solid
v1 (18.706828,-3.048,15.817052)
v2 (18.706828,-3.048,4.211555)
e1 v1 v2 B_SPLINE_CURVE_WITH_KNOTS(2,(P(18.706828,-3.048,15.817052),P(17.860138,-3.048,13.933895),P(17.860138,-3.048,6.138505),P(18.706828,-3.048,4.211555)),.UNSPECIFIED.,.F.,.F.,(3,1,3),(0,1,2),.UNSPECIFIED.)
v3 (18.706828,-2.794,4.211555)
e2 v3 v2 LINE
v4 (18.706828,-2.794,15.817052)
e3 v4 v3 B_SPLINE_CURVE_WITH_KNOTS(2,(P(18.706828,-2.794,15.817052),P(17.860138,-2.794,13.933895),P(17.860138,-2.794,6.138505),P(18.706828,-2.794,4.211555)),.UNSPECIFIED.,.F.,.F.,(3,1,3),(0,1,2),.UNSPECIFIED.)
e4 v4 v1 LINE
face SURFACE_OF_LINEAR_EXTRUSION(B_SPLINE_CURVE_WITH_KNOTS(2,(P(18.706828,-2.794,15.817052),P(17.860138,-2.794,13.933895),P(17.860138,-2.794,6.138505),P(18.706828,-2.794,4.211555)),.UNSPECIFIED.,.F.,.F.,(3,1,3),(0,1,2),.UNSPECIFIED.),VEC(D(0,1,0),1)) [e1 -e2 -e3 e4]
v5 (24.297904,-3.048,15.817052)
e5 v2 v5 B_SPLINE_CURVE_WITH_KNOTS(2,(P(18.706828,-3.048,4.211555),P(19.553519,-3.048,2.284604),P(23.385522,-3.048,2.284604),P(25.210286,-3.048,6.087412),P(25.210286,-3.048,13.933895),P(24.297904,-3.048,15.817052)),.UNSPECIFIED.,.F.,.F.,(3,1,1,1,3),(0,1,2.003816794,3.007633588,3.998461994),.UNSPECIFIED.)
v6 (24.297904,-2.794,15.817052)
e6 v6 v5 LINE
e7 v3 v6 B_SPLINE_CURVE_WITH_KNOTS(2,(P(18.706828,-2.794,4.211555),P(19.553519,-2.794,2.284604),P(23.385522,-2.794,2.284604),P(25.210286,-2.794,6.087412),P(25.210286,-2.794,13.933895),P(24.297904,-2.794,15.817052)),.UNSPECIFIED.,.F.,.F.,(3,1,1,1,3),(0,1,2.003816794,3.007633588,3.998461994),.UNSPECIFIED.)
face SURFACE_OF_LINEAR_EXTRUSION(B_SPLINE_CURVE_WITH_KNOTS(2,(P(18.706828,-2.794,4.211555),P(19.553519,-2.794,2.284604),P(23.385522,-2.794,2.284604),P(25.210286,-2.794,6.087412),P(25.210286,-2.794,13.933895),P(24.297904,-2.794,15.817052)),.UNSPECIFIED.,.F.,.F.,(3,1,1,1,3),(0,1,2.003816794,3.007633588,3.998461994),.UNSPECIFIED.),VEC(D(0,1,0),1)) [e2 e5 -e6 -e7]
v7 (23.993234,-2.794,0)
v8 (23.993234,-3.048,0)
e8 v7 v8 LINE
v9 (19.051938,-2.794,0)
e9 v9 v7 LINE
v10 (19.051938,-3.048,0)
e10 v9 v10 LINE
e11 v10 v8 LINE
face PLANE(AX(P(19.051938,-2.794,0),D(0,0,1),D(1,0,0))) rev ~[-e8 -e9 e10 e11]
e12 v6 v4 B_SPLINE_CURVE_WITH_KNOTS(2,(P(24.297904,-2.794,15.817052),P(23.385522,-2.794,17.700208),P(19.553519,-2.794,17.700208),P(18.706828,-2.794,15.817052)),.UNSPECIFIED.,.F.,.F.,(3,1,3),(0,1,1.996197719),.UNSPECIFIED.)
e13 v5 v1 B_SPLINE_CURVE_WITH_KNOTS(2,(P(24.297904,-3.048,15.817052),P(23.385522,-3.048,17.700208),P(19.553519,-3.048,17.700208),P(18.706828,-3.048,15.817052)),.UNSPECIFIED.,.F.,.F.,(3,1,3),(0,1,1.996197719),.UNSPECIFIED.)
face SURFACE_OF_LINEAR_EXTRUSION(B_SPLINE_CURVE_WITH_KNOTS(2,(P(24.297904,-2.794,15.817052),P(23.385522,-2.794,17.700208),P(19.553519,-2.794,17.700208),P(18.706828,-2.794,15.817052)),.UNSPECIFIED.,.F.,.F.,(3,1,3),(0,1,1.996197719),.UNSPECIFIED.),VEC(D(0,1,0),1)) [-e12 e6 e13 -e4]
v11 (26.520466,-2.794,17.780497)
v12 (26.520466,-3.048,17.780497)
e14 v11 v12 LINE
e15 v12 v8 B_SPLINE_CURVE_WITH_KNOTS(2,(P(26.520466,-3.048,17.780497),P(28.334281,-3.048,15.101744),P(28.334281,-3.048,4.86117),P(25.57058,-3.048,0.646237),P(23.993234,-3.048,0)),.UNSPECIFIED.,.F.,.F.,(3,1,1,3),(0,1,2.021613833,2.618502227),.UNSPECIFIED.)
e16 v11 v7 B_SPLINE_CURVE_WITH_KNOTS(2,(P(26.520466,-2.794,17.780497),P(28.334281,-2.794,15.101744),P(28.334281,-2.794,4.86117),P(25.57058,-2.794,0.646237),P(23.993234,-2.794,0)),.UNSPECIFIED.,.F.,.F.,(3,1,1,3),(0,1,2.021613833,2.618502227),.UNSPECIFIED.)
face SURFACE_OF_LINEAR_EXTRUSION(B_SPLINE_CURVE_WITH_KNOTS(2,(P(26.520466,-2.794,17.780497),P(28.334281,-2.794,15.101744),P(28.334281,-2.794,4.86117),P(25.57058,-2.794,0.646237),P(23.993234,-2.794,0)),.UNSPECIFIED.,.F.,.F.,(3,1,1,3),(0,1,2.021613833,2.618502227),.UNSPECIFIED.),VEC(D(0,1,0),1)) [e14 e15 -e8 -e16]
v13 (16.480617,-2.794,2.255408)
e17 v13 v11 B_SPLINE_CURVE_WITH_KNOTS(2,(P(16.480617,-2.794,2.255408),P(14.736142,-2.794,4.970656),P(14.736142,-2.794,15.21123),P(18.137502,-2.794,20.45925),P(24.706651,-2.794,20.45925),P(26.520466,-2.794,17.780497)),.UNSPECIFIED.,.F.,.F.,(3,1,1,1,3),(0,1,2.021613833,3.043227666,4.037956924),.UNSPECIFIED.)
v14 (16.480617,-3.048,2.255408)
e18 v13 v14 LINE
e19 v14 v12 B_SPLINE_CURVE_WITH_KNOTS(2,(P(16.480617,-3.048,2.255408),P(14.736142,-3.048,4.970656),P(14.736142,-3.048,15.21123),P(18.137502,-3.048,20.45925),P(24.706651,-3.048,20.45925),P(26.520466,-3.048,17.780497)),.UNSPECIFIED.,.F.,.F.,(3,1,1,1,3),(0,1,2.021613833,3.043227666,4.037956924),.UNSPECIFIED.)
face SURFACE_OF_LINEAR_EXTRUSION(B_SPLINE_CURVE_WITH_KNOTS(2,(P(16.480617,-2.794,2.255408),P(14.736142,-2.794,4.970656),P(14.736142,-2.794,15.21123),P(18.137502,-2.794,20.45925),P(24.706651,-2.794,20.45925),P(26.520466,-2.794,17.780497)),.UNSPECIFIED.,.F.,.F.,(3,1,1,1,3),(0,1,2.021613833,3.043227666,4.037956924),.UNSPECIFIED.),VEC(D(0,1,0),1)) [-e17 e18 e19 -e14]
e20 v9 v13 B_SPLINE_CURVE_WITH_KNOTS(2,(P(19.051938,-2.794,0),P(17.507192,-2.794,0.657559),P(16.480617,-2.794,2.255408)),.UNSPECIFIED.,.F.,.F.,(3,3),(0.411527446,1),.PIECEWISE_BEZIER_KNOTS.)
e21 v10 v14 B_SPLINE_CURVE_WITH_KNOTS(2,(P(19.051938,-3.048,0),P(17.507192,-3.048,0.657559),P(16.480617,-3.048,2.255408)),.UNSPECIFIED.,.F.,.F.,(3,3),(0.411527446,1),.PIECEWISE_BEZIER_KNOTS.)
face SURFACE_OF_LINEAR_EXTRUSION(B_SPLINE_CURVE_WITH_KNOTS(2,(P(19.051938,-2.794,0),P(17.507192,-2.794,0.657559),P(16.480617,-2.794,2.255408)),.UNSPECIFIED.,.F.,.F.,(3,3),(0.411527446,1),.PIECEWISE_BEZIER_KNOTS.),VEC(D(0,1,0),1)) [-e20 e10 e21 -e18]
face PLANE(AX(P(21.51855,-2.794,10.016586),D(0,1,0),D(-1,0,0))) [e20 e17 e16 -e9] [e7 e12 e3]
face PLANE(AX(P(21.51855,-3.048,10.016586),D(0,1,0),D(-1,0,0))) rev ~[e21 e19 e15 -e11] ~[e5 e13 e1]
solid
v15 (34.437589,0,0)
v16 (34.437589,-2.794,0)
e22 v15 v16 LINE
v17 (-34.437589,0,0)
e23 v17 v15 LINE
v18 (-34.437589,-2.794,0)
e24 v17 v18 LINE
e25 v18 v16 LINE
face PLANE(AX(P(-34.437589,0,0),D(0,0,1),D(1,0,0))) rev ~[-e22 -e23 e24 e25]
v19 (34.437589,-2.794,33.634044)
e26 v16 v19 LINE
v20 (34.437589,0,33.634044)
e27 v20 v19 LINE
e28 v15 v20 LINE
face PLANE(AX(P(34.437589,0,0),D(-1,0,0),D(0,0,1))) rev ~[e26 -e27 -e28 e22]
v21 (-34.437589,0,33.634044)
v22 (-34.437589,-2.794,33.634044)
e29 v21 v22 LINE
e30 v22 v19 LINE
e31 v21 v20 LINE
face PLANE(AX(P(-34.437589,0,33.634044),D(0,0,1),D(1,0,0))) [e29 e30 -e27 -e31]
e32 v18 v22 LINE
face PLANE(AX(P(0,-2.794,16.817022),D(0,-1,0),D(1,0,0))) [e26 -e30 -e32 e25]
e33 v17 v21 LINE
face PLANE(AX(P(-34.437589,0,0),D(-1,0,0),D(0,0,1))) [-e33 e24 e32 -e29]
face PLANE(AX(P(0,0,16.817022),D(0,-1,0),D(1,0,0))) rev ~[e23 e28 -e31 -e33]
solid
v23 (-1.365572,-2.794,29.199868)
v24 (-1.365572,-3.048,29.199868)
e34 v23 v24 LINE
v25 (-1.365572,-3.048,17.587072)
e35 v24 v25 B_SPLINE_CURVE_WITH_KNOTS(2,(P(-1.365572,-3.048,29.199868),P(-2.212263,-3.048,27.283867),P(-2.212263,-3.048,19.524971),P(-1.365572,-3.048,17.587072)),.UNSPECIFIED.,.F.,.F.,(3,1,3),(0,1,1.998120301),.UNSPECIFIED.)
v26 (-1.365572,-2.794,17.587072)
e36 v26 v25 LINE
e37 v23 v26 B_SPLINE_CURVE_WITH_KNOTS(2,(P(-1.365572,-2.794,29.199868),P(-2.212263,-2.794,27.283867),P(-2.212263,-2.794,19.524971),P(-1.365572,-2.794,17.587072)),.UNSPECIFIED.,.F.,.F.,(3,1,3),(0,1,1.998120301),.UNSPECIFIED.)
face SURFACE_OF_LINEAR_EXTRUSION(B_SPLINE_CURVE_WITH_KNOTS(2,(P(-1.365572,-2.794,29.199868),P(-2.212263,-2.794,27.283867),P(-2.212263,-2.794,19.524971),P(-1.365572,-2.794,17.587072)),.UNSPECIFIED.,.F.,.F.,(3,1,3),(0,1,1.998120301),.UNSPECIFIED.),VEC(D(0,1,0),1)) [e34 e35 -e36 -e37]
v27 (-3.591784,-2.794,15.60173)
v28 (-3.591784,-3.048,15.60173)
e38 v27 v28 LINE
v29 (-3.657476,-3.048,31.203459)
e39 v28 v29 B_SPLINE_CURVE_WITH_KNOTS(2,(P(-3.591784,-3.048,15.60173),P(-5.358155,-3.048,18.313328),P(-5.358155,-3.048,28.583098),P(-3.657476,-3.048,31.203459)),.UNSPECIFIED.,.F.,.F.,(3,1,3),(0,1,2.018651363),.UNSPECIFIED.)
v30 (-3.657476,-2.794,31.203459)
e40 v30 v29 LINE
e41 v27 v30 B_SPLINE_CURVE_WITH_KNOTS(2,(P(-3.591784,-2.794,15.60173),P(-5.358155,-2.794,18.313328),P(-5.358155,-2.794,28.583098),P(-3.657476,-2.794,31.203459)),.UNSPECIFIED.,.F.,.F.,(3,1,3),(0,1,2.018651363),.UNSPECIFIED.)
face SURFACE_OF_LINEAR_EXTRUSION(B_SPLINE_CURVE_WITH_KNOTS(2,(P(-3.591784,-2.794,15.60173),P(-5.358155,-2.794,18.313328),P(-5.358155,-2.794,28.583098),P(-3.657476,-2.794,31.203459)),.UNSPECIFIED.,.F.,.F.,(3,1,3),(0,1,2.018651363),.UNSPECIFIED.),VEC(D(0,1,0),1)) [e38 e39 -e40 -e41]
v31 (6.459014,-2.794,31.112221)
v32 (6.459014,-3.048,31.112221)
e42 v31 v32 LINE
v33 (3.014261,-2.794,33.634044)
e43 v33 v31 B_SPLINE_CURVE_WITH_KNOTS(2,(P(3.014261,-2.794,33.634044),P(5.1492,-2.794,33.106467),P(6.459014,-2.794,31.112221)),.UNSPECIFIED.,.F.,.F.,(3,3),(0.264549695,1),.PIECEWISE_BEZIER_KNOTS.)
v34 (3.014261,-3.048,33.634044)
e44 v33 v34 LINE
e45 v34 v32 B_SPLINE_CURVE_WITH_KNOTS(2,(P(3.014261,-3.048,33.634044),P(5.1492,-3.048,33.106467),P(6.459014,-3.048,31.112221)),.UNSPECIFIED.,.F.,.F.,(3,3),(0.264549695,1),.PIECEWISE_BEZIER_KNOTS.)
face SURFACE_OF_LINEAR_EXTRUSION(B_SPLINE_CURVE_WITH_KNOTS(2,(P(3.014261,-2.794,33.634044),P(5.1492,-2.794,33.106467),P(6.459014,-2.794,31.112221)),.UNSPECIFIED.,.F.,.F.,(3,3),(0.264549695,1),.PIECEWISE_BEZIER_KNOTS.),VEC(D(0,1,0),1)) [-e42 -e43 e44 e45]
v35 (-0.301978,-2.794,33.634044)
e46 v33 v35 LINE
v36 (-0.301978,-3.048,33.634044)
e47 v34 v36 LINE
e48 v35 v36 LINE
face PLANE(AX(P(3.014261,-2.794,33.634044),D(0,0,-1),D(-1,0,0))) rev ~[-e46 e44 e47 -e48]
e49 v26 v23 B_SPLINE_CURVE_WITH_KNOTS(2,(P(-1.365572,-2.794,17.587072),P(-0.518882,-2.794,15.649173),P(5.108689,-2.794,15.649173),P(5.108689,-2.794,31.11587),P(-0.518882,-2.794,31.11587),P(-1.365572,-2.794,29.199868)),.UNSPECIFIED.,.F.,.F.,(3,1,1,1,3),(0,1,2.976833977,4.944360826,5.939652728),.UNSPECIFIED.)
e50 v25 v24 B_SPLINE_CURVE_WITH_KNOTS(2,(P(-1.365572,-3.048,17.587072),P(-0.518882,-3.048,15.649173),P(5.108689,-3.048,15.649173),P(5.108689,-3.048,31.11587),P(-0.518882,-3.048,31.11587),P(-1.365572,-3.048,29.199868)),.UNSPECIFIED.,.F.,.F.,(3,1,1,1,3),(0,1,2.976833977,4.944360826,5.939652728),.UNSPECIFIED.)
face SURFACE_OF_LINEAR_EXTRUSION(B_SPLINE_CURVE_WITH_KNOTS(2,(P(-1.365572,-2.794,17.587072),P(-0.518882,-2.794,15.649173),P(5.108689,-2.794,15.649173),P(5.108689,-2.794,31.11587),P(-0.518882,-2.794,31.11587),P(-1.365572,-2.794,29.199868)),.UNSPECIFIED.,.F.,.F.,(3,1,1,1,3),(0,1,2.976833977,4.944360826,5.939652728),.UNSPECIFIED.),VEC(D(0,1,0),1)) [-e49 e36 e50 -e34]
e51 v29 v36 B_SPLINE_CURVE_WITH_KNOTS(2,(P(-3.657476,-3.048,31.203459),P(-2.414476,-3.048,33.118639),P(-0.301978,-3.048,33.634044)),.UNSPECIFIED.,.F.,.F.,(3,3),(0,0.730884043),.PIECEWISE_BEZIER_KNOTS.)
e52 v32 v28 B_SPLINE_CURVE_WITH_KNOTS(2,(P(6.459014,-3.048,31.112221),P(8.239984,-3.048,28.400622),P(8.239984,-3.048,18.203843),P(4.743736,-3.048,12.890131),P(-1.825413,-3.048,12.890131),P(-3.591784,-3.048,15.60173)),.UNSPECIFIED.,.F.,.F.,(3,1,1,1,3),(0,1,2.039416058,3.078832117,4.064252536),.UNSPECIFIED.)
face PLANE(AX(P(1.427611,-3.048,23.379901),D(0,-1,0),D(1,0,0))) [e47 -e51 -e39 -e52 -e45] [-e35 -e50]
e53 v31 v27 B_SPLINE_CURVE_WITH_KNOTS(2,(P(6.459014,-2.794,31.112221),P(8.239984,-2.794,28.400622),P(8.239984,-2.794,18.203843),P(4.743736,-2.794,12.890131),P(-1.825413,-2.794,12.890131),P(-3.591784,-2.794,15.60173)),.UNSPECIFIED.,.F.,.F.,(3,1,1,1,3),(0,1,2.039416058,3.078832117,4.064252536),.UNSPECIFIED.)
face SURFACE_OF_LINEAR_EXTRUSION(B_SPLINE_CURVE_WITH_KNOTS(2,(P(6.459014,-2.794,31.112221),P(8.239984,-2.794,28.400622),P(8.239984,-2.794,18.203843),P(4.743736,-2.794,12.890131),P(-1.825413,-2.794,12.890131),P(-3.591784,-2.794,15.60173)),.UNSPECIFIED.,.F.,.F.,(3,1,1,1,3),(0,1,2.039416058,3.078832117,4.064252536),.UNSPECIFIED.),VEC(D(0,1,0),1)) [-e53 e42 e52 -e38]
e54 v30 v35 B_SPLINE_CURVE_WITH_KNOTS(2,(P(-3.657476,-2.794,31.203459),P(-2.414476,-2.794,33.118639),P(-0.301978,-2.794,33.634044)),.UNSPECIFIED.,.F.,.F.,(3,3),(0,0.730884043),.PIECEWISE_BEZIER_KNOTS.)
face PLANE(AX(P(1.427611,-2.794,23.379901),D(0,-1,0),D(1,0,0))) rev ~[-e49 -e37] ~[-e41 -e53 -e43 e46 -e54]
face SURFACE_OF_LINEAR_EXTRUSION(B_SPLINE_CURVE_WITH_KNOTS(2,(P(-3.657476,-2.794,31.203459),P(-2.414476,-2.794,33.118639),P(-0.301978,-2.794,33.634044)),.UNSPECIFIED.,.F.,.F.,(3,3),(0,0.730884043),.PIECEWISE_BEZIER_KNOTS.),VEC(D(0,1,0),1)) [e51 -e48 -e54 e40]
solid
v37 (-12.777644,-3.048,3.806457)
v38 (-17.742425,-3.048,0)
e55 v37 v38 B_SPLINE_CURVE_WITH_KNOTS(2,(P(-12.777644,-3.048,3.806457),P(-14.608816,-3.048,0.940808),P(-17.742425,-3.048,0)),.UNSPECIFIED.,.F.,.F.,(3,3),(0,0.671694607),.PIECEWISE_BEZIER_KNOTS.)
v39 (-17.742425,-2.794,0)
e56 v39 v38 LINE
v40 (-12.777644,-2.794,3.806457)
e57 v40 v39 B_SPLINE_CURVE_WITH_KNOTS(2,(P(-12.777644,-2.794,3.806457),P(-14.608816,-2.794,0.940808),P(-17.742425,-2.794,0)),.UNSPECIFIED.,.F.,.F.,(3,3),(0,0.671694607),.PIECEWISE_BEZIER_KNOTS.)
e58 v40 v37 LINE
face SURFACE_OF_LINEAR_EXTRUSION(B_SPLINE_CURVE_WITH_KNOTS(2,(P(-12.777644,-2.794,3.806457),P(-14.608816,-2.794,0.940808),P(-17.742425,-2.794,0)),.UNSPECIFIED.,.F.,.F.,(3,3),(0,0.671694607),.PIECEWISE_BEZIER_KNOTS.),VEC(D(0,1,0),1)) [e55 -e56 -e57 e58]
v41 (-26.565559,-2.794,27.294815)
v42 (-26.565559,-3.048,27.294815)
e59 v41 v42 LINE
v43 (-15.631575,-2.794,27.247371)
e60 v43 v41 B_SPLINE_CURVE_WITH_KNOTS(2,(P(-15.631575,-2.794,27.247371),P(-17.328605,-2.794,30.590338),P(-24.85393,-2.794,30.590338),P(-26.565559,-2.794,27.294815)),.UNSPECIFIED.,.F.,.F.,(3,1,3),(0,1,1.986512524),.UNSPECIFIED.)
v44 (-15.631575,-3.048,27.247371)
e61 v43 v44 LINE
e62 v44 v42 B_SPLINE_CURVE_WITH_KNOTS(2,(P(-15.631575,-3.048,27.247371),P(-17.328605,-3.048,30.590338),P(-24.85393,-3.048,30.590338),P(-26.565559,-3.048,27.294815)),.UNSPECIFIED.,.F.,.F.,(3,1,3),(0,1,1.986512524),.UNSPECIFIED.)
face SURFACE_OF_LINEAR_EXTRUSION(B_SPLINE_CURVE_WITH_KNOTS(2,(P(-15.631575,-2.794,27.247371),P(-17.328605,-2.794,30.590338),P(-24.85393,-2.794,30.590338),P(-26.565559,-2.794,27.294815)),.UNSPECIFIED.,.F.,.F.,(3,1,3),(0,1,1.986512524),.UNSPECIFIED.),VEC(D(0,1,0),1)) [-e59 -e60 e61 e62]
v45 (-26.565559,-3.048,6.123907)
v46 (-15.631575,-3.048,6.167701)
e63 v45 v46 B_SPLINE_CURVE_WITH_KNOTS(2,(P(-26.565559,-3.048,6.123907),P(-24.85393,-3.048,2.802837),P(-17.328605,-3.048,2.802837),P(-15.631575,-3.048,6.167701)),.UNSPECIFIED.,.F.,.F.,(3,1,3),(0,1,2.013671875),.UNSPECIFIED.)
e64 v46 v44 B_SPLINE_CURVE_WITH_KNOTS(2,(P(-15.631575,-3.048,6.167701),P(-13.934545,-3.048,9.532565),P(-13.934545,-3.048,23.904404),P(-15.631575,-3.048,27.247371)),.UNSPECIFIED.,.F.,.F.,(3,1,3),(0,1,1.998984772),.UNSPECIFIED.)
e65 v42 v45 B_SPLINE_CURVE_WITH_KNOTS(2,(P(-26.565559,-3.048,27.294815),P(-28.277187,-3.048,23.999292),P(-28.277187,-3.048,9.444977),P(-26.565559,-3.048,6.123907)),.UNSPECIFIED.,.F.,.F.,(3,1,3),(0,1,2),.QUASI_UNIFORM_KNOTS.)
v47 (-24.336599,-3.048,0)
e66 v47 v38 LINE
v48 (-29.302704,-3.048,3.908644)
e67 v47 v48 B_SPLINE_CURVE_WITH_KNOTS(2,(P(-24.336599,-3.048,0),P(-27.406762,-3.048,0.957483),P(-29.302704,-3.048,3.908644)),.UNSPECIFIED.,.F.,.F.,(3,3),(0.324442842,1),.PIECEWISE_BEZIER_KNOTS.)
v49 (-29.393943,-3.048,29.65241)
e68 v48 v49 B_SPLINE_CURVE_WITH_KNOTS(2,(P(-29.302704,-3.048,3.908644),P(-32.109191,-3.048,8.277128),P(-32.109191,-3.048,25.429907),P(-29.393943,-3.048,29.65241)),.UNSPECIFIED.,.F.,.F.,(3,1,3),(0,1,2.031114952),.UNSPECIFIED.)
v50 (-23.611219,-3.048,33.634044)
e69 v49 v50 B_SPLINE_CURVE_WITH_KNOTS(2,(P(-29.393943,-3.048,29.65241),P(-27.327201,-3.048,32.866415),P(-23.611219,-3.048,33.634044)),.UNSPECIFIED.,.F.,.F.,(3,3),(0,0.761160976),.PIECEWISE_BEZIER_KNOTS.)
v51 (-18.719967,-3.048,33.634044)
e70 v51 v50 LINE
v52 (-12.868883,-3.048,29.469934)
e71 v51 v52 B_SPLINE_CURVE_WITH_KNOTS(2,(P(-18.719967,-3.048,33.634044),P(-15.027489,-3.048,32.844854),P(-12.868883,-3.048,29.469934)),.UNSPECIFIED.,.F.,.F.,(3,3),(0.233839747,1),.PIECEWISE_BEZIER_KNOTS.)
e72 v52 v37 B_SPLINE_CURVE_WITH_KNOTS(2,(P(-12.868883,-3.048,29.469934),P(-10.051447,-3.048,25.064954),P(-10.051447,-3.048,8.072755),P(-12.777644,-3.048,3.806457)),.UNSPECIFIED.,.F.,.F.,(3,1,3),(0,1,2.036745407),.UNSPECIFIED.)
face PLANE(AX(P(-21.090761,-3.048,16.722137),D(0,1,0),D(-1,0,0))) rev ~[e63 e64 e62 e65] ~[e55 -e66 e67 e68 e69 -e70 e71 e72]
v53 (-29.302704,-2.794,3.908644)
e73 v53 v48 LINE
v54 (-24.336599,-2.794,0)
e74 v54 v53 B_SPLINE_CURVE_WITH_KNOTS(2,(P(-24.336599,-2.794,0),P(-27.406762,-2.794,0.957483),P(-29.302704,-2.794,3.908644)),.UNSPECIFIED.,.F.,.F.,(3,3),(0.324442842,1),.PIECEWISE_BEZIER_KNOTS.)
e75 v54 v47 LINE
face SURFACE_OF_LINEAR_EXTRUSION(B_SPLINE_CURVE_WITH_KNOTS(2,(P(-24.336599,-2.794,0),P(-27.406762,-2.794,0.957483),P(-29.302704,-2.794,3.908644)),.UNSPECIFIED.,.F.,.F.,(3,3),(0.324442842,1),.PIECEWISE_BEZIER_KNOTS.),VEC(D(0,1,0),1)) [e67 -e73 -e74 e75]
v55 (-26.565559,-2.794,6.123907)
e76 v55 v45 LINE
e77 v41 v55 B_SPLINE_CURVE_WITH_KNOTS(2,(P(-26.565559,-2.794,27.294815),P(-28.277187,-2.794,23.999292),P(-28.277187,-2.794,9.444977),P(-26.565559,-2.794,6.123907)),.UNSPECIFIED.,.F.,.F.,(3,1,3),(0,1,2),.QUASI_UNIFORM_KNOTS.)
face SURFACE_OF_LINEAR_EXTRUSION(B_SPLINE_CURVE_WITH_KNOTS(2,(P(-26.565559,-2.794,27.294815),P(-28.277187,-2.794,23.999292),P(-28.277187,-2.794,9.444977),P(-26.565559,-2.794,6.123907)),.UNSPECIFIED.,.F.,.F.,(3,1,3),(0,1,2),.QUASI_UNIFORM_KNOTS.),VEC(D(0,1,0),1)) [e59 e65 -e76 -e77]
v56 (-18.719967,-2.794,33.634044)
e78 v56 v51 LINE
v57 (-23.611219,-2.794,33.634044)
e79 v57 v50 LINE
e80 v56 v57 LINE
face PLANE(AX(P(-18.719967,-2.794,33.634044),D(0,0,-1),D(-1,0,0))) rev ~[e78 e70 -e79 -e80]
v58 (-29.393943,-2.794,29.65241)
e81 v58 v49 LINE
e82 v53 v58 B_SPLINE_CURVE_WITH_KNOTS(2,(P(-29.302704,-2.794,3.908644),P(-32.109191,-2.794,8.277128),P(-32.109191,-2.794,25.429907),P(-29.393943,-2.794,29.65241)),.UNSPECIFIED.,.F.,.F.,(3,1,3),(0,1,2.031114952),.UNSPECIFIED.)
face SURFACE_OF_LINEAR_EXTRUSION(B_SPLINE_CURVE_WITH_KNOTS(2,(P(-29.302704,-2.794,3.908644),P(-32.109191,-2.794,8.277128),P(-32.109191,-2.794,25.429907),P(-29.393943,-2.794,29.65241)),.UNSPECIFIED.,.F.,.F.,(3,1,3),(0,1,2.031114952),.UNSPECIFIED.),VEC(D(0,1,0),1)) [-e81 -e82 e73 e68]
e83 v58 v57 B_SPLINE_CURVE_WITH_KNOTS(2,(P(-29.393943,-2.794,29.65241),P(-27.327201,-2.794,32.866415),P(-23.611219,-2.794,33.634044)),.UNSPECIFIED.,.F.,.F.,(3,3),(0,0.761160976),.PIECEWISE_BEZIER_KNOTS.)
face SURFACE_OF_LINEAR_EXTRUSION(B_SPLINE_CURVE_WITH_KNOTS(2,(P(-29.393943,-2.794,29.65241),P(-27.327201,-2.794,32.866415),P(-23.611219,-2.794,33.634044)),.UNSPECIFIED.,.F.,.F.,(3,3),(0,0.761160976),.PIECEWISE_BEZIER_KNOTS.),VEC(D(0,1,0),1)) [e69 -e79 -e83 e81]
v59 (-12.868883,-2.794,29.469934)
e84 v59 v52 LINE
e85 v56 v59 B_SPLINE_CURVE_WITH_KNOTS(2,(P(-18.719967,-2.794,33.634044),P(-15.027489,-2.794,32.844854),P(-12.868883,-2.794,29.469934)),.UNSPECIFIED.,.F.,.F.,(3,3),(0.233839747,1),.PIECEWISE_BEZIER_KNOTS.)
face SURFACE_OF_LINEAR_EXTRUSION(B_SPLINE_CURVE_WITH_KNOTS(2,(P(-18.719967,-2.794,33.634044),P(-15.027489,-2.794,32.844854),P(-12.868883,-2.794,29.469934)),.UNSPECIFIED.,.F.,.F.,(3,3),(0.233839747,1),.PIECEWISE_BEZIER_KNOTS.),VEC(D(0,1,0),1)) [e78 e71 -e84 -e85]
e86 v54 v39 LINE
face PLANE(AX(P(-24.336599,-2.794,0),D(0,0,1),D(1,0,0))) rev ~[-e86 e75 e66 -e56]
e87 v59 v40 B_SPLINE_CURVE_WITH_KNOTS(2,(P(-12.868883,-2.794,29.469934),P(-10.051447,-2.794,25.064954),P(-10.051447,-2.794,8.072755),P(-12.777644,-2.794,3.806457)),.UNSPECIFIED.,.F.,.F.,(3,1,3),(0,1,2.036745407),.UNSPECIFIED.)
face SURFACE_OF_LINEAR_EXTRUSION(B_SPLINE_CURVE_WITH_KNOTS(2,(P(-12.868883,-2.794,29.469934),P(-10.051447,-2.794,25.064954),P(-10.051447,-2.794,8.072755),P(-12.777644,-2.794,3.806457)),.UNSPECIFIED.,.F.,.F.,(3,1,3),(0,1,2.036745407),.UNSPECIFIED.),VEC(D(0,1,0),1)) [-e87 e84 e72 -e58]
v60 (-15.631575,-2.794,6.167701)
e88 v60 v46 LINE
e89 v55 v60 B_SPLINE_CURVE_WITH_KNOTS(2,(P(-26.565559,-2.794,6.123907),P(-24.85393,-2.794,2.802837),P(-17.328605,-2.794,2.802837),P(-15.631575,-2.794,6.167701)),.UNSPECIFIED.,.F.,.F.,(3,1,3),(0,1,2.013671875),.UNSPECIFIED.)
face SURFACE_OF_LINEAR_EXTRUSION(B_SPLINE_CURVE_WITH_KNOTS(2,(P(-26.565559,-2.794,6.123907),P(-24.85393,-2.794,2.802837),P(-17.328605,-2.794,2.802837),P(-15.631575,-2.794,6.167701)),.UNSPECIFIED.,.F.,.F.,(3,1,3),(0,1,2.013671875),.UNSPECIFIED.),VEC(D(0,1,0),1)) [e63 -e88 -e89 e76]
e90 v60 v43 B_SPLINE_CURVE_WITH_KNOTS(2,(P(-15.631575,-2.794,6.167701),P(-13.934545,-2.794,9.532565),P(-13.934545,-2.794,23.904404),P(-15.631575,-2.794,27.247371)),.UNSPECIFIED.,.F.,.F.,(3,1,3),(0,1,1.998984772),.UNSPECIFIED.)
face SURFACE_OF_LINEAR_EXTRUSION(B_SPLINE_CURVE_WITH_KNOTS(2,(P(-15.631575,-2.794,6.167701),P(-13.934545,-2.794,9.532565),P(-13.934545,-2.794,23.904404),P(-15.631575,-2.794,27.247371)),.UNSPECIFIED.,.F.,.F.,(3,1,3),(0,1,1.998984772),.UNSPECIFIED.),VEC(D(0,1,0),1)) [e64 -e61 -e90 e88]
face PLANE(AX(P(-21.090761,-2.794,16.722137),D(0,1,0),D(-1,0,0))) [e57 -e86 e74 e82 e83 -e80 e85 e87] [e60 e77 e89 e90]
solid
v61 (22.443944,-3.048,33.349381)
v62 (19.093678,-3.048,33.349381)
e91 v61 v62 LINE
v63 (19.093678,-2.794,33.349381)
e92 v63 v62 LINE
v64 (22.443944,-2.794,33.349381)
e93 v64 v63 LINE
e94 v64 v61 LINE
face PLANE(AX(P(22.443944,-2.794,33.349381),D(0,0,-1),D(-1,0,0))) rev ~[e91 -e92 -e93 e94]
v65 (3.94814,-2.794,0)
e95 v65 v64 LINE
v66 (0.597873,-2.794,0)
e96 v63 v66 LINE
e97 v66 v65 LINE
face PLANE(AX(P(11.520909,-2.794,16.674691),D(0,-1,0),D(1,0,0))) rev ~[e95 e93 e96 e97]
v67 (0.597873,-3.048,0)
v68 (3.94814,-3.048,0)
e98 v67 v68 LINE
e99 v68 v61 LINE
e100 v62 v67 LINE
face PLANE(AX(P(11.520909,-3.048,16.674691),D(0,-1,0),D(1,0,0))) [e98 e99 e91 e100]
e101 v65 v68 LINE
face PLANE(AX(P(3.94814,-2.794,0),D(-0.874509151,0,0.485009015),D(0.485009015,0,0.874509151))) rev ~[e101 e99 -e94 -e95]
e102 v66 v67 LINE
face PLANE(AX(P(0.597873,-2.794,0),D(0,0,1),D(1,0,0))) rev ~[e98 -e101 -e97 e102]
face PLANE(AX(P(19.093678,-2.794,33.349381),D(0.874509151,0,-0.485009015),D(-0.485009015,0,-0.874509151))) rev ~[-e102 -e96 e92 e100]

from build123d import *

# Parameters (mm, degrees)
F0_W     = 68.8751786947
F0_H     = 33.63404423
F1_DEPTH = 2.794
F3_DEPTH = 0.254


with BuildPart() as f1:
    # F0 (on Front) → F1 (new body)
    with BuildSketch(Plane.XZ):
        with Locations((0, 16.817022115)):
            Rectangle(F0_W, F0_H)
    extrude(amount=F1_DEPTH)


with BuildPart() as f3:
    # F2 (on face) → F3 (new body)
    with BuildSketch(Plane.XZ.offset(2.794)):
        with BuildLine():
            add(Edge.make_bspline(
                [(-10.0514474697, 16.7221344034), (-10.0514474697, 8.0727545396), (-12.7776444141, 3.8064570456)],
                knots=[0, 0, 0, 1, 1, 1], degree=2))
            add(Edge.make_bspline(
                [(-12.8688825983, 29.4699335023), (-10.0514474697, 25.0649539683), (-10.0514474697, 16.7221344034)],
                knots=[0, 0, 0, 1, 1, 1], degree=2))
            add(Edge.make_bspline(
                [(-18.7199673823, 33.63404423), (-15.0274894089, 32.8448537359), (-12.8688825983, 29.4699335023)],
                knots=[0.2338397471, 0.2338397471, 0.2338397471, 1, 1, 1], degree=2))
            Line((-18.7199673823, 33.63404423), (-23.6112188327, 33.63404423))
            add(Edge.make_bspline(
                [(-29.3939425238, 29.6524098707), (-27.327201431, 32.8664145003), (-23.6112188327, 33.63404423)],
                knots=[0, 0, 0, 0.7611609757, 0.7611609757, 0.7611609757], degree=2))
            add(Edge.make_bspline(
                [(-32.1091908861, 16.7221344034), (-32.1091908861, 25.4299067051), (-29.3939425238, 29.6524098707)],
                knots=[0, 0, 0, 1, 1, 1], degree=2))
            add(Edge.make_bspline(
                [(-29.3027043396, 3.9086438119), (-32.1091908861, 8.2771280722), (-32.1091908861, 16.7221344034)],
                knots=[0, 0, 0, 1, 1, 1], degree=2))
            add(Edge.make_bspline(
                [(-24.3365989243, 0), (-27.406762265, 0.9574830013), (-29.3027043396, 3.9086438119)],
                knots=[0.3244428423, 0.3244428423, 0.3244428423, 1, 1, 1], degree=2))
            Line((-24.3365989243, 0), (-17.742425301, 0))
            add(Edge.make_bspline(
                [(-12.7776444141, 3.8064570456), (-14.608816199, 0.9408080274), (-17.742425301, 0)],
                knots=[0, 0, 0, 0.6716946069, 0.6716946069, 0.6716946069], degree=2))
        make_face()
        with BuildLine():
            add(Edge.make_bspline(
                [(-28.277187149, 16.7221344034), (-28.277187149, 9.4449768302), (-26.5655588131, 6.1239069247)],
                knots=[0, 0, 0, 1, 1, 1], degree=2))
            add(Edge.make_bspline(
                [(-26.5655588131, 27.2948151905), (-28.277187149, 23.9992919766), (-28.277187149, 16.7221344034)],
                knots=[0, 0, 0, 1, 1, 1], degree=2))
            add(Edge.make_bspline(
                [(-21.1168144516, 30.5903384045), (-24.8539304771, 30.5903384045), (-26.5655588131, 27.2948151905)],
                knots=[0, 0, 0, 1, 1, 1], degree=2))
            add(Edge.make_bspline(
                [(-15.6315748164, 27.2473713348), (-17.3286050429, 30.5903384045), (-21.1168144516, 30.5903384045)],
                knots=[0, 0, 0, 1, 1, 1], degree=2))
            add(Edge.make_bspline(
                [(-13.93454459, 16.7221344034), (-13.93454459, 23.904404265), (-15.6315748164, 27.2473713348)],
                knots=[0, 0, 0, 1, 1, 1], degree=2))
            add(Edge.make_bspline(
                [(-15.6315748164, 6.1677012531), (-13.93454459, 9.5325654871), (-13.93454459, 16.7221344034)],
                knots=[0, 0, 0, 1, 1, 1], degree=2))
            add(Edge.make_bspline(
                [(-21.1168144516, 2.8028370192), (-17.3286050429, 2.8028370192), (-15.6315748164, 6.1677012531)],
                knots=[0, 0, 0, 1, 1, 1], degree=2))
            add(Edge.make_bspline(
                [(-26.5655588131, 6.1239069247), (-24.8539304771, 2.8028370192), (-21.1168144516, 2.8028370192)],
                knots=[0, 0, 0, 1, 1, 1], degree=2))
        make_face(mode=Mode.SUBTRACT)
        with BuildLine():
            Line((3.0142607646, 33.63404423), (-0.3019784181, 33.63404423))
            add(Edge.make_bspline(
                [(-3.6574755197, 31.2034590024), (-2.4144758254, 33.1186387889), (-0.3019784181, 33.63404423)],
                knots=[0, 0, 0, 0.730884043, 0.730884043, 0.730884043], degree=2))
            add(Edge.make_bspline(
                [(-5.3581552735, 23.4007694881), (-5.3581552735, 28.5830983517), (-3.6574755197, 31.2034590024)],
                knots=[0, 0, 0, 1, 1, 1], degree=2))
            add(Edge.make_bspline(
                [(-3.5917840271, 15.6017295012), (-5.3581552735, 18.3133283362), (-5.3581552735, 23.4007694881)],
                knots=[0, 0, 0, 1, 1, 1], degree=2))
            add(Edge.make_bspline(
                [(1.3715731944, 12.8901306663), (-1.8254127806, 12.8901306663), (-3.5917840271, 15.6017295012)],
                knots=[0, 0, 0, 1, 1, 1], degree=2))
            add(Edge.make_bspline(
                [(6.4918600927, 15.5469865907), (4.7437364831, 12.8901306663), (1.3715731944, 12.8901306663)],
                knots=[0, 0, 0, 1, 1, 1], degree=2))
            add(Edge.make_bspline(
                [(8.2399837023, 23.4007694881), (8.2399837023, 18.2038425151), (6.4918600927, 15.5469865907)],
                knots=[0, 0, 0, 1, 1, 1], degree=2))
            add(Edge.make_bspline(
                [(6.4590143463, 31.1122208182), (8.2399837023, 28.4006219833), (8.2399837023, 23.4007694881)],
                knots=[0, 0, 0, 1, 1, 1], degree=2))
            add(Edge.make_bspline(
                [(3.0142607646, 33.63404423), (5.1491998901, 33.1064670088), (6.4590143463, 31.1122208182)],
                knots=[0.2645496949, 0.2645496949, 0.2645496949, 1, 1, 1], degree=2))
        make_face()
        with BuildLine():
            add(Edge.make_bspline(
                [(-2.2122626817, 23.4007694881), (-2.2122626817, 19.5249714226), (-1.3655723322, 17.5870723898)],
                knots=[0, 0, 0, 1, 1, 1], degree=2))
            add(Edge.make_bspline(
                [(-1.3655723322, 29.199868477), (-2.2122626817, 27.2838666084), (-2.2122626817, 23.4007694881)],
                knots=[0, 0, 0, 1, 1, 1], degree=2))
            add(Edge.make_bspline(
                [(1.3715731944, 31.1158703456), (-0.5188819826, 31.1158703456), (-1.3655723322, 29.199868477)],
                knots=[0, 0, 0, 1, 1, 1], degree=2))
            add(Edge.make_bspline(
                [(5.1086892199, 23.4007694881), (5.1086892199, 31.1158703456), (1.3715731944, 31.1158703456)],
                knots=[0, 0, 0, 1, 1, 1], degree=2))
            add(Edge.make_bspline(
                [(1.3715731944, 15.649173357), (5.1086892199, 15.649173357), (5.1086892199, 23.4007694881)],
                knots=[0, 0, 0, 1, 1, 1], degree=2))
            add(Edge.make_bspline(
                [(-1.3655723322, 17.5870723898), (-0.5188819826, 15.649173357), (1.3715731944, 15.649173357)],
                knots=[0, 0, 0, 1, 1, 1], degree=2))
        make_face(mode=Mode.SUBTRACT)
        with BuildLine():
            add(Edge.make_bspline(
                [(19.0519375034, 0), (17.5071916196, 0.657558775), (16.4806165008, 2.2554079139)],
                knots=[0.4115274459, 0.4115274459, 0.4115274459, 1, 1, 1], degree=2))
            Line((19.0519375034, 0), (23.9932337096, 0))
            add(Edge.make_bspline(
                [(26.5898073121, 2.2006650033), (25.5705803783, 0.6462373156), (23.9932337096, 0)],
                knots=[0, 0, 0, 0.5842602904, 0.5842602904, 0.5842602904], degree=2))
            add(Edge.make_bspline(
                [(28.3342813944, 10.0362002639), (28.3342813944, 4.8611704551), (26.5898073121, 2.2006650033)],
                knots=[0, 0, 0, 1, 1, 1], degree=2))
            add(Edge.make_bspline(
                [(26.5204662921, 17.7804973403), (28.3342813944, 15.1017442517), (28.3342813944, 10.0362002639)],
                knots=[0, 0, 0, 1, 1, 1], degree=2))
            add(Edge.make_bspline(
                [(21.4658708865, 20.459250429), (24.7066511899, 20.459250429), (26.5204662921, 17.7804973403)],
                knots=[0, 0, 0, 1, 1, 1], degree=2))
            add(Edge.make_bspline(
                [(16.4368221724, 17.8352402509), (18.1375019262, 20.459250429), (21.4658708865, 20.459250429)],
                knots=[0, 0, 0, 1, 1, 1], degree=2))
            add(Edge.make_bspline(
                [(14.7361424186, 10.0362002639), (14.7361424186, 15.2112300728), (16.4368221724, 17.8352402509)],
                knots=[0, 0, 0, 1, 1, 1], degree=2))
            add(Edge.make_bspline(
                [(16.4806165008, 2.2554079139), (14.7361424186, 4.9706562762), (14.7361424186, 10.0362002639)],
                knots=[0, 0, 0, 1, 1, 1], degree=2))
        make_face()
        with BuildLine():
            add(Edge.make_bspline(
                [(17.8601378462, 10.0362002639), (17.8601378462, 6.1385050342), (18.7068281957, 4.2115545835)],
                knots=[0, 0, 0, 1, 1, 1], degree=2))
            add(Edge.make_bspline(
                [(18.7068281957, 15.817051616), (17.8601378462, 13.9338954937), (17.8601378462, 10.0362002639)],
                knots=[0, 0, 0, 1, 1, 1], degree=2))
            add(Edge.make_bspline(
                [(21.4658708865, 17.7002077382), (19.5535185453, 17.7002077382), (18.7068281957, 15.817051616)],
                knots=[0, 0, 0, 1, 1, 1], degree=2))
            add(Edge.make_bspline(
                [(24.2979041246, 15.817051616), (23.3855222824, 17.7002077382), (21.4658708865, 17.7002077382)],
                knots=[0, 0, 0, 1, 1, 1], degree=2))
            add(Edge.make_bspline(
                [(25.2102859668, 10.0362002639), (25.2102859668, 13.9338954937), (24.2979041246, 15.817051616)],
                knots=[0, 0, 0, 1, 1, 1], degree=2))
            add(Edge.make_bspline(
                [(24.2979041246, 4.1860078919), (25.2102859668, 6.087411651), (25.2102859668, 10.0362002639)],
                knots=[0, 0, 0, 1, 1, 1], degree=2))
            add(Edge.make_bspline(
                [(21.4658708865, 2.2846041328), (23.3855222824, 2.2846041328), (24.2979041246, 4.1860078919)],
                knots=[0, 0, 0, 1, 1, 1], degree=2))
            add(Edge.make_bspline(
                [(18.7068281957, 4.2115545835), (19.5535185453, 2.2846041328), (21.4658708865, 2.2846041328)],
                knots=[0, 0, 0, 1, 1, 1], degree=2))
        make_face(mode=Mode.SUBTRACT)
        Polygon((19.0936780968, 33.3493810952), (0.5978733922, 0), (3.9481395167, 0), (22.4439442213, 33.3493810952), align=None)
    extrude(amount=F3_DEPTH)


solid = Compound([f1.part, f3.part])
